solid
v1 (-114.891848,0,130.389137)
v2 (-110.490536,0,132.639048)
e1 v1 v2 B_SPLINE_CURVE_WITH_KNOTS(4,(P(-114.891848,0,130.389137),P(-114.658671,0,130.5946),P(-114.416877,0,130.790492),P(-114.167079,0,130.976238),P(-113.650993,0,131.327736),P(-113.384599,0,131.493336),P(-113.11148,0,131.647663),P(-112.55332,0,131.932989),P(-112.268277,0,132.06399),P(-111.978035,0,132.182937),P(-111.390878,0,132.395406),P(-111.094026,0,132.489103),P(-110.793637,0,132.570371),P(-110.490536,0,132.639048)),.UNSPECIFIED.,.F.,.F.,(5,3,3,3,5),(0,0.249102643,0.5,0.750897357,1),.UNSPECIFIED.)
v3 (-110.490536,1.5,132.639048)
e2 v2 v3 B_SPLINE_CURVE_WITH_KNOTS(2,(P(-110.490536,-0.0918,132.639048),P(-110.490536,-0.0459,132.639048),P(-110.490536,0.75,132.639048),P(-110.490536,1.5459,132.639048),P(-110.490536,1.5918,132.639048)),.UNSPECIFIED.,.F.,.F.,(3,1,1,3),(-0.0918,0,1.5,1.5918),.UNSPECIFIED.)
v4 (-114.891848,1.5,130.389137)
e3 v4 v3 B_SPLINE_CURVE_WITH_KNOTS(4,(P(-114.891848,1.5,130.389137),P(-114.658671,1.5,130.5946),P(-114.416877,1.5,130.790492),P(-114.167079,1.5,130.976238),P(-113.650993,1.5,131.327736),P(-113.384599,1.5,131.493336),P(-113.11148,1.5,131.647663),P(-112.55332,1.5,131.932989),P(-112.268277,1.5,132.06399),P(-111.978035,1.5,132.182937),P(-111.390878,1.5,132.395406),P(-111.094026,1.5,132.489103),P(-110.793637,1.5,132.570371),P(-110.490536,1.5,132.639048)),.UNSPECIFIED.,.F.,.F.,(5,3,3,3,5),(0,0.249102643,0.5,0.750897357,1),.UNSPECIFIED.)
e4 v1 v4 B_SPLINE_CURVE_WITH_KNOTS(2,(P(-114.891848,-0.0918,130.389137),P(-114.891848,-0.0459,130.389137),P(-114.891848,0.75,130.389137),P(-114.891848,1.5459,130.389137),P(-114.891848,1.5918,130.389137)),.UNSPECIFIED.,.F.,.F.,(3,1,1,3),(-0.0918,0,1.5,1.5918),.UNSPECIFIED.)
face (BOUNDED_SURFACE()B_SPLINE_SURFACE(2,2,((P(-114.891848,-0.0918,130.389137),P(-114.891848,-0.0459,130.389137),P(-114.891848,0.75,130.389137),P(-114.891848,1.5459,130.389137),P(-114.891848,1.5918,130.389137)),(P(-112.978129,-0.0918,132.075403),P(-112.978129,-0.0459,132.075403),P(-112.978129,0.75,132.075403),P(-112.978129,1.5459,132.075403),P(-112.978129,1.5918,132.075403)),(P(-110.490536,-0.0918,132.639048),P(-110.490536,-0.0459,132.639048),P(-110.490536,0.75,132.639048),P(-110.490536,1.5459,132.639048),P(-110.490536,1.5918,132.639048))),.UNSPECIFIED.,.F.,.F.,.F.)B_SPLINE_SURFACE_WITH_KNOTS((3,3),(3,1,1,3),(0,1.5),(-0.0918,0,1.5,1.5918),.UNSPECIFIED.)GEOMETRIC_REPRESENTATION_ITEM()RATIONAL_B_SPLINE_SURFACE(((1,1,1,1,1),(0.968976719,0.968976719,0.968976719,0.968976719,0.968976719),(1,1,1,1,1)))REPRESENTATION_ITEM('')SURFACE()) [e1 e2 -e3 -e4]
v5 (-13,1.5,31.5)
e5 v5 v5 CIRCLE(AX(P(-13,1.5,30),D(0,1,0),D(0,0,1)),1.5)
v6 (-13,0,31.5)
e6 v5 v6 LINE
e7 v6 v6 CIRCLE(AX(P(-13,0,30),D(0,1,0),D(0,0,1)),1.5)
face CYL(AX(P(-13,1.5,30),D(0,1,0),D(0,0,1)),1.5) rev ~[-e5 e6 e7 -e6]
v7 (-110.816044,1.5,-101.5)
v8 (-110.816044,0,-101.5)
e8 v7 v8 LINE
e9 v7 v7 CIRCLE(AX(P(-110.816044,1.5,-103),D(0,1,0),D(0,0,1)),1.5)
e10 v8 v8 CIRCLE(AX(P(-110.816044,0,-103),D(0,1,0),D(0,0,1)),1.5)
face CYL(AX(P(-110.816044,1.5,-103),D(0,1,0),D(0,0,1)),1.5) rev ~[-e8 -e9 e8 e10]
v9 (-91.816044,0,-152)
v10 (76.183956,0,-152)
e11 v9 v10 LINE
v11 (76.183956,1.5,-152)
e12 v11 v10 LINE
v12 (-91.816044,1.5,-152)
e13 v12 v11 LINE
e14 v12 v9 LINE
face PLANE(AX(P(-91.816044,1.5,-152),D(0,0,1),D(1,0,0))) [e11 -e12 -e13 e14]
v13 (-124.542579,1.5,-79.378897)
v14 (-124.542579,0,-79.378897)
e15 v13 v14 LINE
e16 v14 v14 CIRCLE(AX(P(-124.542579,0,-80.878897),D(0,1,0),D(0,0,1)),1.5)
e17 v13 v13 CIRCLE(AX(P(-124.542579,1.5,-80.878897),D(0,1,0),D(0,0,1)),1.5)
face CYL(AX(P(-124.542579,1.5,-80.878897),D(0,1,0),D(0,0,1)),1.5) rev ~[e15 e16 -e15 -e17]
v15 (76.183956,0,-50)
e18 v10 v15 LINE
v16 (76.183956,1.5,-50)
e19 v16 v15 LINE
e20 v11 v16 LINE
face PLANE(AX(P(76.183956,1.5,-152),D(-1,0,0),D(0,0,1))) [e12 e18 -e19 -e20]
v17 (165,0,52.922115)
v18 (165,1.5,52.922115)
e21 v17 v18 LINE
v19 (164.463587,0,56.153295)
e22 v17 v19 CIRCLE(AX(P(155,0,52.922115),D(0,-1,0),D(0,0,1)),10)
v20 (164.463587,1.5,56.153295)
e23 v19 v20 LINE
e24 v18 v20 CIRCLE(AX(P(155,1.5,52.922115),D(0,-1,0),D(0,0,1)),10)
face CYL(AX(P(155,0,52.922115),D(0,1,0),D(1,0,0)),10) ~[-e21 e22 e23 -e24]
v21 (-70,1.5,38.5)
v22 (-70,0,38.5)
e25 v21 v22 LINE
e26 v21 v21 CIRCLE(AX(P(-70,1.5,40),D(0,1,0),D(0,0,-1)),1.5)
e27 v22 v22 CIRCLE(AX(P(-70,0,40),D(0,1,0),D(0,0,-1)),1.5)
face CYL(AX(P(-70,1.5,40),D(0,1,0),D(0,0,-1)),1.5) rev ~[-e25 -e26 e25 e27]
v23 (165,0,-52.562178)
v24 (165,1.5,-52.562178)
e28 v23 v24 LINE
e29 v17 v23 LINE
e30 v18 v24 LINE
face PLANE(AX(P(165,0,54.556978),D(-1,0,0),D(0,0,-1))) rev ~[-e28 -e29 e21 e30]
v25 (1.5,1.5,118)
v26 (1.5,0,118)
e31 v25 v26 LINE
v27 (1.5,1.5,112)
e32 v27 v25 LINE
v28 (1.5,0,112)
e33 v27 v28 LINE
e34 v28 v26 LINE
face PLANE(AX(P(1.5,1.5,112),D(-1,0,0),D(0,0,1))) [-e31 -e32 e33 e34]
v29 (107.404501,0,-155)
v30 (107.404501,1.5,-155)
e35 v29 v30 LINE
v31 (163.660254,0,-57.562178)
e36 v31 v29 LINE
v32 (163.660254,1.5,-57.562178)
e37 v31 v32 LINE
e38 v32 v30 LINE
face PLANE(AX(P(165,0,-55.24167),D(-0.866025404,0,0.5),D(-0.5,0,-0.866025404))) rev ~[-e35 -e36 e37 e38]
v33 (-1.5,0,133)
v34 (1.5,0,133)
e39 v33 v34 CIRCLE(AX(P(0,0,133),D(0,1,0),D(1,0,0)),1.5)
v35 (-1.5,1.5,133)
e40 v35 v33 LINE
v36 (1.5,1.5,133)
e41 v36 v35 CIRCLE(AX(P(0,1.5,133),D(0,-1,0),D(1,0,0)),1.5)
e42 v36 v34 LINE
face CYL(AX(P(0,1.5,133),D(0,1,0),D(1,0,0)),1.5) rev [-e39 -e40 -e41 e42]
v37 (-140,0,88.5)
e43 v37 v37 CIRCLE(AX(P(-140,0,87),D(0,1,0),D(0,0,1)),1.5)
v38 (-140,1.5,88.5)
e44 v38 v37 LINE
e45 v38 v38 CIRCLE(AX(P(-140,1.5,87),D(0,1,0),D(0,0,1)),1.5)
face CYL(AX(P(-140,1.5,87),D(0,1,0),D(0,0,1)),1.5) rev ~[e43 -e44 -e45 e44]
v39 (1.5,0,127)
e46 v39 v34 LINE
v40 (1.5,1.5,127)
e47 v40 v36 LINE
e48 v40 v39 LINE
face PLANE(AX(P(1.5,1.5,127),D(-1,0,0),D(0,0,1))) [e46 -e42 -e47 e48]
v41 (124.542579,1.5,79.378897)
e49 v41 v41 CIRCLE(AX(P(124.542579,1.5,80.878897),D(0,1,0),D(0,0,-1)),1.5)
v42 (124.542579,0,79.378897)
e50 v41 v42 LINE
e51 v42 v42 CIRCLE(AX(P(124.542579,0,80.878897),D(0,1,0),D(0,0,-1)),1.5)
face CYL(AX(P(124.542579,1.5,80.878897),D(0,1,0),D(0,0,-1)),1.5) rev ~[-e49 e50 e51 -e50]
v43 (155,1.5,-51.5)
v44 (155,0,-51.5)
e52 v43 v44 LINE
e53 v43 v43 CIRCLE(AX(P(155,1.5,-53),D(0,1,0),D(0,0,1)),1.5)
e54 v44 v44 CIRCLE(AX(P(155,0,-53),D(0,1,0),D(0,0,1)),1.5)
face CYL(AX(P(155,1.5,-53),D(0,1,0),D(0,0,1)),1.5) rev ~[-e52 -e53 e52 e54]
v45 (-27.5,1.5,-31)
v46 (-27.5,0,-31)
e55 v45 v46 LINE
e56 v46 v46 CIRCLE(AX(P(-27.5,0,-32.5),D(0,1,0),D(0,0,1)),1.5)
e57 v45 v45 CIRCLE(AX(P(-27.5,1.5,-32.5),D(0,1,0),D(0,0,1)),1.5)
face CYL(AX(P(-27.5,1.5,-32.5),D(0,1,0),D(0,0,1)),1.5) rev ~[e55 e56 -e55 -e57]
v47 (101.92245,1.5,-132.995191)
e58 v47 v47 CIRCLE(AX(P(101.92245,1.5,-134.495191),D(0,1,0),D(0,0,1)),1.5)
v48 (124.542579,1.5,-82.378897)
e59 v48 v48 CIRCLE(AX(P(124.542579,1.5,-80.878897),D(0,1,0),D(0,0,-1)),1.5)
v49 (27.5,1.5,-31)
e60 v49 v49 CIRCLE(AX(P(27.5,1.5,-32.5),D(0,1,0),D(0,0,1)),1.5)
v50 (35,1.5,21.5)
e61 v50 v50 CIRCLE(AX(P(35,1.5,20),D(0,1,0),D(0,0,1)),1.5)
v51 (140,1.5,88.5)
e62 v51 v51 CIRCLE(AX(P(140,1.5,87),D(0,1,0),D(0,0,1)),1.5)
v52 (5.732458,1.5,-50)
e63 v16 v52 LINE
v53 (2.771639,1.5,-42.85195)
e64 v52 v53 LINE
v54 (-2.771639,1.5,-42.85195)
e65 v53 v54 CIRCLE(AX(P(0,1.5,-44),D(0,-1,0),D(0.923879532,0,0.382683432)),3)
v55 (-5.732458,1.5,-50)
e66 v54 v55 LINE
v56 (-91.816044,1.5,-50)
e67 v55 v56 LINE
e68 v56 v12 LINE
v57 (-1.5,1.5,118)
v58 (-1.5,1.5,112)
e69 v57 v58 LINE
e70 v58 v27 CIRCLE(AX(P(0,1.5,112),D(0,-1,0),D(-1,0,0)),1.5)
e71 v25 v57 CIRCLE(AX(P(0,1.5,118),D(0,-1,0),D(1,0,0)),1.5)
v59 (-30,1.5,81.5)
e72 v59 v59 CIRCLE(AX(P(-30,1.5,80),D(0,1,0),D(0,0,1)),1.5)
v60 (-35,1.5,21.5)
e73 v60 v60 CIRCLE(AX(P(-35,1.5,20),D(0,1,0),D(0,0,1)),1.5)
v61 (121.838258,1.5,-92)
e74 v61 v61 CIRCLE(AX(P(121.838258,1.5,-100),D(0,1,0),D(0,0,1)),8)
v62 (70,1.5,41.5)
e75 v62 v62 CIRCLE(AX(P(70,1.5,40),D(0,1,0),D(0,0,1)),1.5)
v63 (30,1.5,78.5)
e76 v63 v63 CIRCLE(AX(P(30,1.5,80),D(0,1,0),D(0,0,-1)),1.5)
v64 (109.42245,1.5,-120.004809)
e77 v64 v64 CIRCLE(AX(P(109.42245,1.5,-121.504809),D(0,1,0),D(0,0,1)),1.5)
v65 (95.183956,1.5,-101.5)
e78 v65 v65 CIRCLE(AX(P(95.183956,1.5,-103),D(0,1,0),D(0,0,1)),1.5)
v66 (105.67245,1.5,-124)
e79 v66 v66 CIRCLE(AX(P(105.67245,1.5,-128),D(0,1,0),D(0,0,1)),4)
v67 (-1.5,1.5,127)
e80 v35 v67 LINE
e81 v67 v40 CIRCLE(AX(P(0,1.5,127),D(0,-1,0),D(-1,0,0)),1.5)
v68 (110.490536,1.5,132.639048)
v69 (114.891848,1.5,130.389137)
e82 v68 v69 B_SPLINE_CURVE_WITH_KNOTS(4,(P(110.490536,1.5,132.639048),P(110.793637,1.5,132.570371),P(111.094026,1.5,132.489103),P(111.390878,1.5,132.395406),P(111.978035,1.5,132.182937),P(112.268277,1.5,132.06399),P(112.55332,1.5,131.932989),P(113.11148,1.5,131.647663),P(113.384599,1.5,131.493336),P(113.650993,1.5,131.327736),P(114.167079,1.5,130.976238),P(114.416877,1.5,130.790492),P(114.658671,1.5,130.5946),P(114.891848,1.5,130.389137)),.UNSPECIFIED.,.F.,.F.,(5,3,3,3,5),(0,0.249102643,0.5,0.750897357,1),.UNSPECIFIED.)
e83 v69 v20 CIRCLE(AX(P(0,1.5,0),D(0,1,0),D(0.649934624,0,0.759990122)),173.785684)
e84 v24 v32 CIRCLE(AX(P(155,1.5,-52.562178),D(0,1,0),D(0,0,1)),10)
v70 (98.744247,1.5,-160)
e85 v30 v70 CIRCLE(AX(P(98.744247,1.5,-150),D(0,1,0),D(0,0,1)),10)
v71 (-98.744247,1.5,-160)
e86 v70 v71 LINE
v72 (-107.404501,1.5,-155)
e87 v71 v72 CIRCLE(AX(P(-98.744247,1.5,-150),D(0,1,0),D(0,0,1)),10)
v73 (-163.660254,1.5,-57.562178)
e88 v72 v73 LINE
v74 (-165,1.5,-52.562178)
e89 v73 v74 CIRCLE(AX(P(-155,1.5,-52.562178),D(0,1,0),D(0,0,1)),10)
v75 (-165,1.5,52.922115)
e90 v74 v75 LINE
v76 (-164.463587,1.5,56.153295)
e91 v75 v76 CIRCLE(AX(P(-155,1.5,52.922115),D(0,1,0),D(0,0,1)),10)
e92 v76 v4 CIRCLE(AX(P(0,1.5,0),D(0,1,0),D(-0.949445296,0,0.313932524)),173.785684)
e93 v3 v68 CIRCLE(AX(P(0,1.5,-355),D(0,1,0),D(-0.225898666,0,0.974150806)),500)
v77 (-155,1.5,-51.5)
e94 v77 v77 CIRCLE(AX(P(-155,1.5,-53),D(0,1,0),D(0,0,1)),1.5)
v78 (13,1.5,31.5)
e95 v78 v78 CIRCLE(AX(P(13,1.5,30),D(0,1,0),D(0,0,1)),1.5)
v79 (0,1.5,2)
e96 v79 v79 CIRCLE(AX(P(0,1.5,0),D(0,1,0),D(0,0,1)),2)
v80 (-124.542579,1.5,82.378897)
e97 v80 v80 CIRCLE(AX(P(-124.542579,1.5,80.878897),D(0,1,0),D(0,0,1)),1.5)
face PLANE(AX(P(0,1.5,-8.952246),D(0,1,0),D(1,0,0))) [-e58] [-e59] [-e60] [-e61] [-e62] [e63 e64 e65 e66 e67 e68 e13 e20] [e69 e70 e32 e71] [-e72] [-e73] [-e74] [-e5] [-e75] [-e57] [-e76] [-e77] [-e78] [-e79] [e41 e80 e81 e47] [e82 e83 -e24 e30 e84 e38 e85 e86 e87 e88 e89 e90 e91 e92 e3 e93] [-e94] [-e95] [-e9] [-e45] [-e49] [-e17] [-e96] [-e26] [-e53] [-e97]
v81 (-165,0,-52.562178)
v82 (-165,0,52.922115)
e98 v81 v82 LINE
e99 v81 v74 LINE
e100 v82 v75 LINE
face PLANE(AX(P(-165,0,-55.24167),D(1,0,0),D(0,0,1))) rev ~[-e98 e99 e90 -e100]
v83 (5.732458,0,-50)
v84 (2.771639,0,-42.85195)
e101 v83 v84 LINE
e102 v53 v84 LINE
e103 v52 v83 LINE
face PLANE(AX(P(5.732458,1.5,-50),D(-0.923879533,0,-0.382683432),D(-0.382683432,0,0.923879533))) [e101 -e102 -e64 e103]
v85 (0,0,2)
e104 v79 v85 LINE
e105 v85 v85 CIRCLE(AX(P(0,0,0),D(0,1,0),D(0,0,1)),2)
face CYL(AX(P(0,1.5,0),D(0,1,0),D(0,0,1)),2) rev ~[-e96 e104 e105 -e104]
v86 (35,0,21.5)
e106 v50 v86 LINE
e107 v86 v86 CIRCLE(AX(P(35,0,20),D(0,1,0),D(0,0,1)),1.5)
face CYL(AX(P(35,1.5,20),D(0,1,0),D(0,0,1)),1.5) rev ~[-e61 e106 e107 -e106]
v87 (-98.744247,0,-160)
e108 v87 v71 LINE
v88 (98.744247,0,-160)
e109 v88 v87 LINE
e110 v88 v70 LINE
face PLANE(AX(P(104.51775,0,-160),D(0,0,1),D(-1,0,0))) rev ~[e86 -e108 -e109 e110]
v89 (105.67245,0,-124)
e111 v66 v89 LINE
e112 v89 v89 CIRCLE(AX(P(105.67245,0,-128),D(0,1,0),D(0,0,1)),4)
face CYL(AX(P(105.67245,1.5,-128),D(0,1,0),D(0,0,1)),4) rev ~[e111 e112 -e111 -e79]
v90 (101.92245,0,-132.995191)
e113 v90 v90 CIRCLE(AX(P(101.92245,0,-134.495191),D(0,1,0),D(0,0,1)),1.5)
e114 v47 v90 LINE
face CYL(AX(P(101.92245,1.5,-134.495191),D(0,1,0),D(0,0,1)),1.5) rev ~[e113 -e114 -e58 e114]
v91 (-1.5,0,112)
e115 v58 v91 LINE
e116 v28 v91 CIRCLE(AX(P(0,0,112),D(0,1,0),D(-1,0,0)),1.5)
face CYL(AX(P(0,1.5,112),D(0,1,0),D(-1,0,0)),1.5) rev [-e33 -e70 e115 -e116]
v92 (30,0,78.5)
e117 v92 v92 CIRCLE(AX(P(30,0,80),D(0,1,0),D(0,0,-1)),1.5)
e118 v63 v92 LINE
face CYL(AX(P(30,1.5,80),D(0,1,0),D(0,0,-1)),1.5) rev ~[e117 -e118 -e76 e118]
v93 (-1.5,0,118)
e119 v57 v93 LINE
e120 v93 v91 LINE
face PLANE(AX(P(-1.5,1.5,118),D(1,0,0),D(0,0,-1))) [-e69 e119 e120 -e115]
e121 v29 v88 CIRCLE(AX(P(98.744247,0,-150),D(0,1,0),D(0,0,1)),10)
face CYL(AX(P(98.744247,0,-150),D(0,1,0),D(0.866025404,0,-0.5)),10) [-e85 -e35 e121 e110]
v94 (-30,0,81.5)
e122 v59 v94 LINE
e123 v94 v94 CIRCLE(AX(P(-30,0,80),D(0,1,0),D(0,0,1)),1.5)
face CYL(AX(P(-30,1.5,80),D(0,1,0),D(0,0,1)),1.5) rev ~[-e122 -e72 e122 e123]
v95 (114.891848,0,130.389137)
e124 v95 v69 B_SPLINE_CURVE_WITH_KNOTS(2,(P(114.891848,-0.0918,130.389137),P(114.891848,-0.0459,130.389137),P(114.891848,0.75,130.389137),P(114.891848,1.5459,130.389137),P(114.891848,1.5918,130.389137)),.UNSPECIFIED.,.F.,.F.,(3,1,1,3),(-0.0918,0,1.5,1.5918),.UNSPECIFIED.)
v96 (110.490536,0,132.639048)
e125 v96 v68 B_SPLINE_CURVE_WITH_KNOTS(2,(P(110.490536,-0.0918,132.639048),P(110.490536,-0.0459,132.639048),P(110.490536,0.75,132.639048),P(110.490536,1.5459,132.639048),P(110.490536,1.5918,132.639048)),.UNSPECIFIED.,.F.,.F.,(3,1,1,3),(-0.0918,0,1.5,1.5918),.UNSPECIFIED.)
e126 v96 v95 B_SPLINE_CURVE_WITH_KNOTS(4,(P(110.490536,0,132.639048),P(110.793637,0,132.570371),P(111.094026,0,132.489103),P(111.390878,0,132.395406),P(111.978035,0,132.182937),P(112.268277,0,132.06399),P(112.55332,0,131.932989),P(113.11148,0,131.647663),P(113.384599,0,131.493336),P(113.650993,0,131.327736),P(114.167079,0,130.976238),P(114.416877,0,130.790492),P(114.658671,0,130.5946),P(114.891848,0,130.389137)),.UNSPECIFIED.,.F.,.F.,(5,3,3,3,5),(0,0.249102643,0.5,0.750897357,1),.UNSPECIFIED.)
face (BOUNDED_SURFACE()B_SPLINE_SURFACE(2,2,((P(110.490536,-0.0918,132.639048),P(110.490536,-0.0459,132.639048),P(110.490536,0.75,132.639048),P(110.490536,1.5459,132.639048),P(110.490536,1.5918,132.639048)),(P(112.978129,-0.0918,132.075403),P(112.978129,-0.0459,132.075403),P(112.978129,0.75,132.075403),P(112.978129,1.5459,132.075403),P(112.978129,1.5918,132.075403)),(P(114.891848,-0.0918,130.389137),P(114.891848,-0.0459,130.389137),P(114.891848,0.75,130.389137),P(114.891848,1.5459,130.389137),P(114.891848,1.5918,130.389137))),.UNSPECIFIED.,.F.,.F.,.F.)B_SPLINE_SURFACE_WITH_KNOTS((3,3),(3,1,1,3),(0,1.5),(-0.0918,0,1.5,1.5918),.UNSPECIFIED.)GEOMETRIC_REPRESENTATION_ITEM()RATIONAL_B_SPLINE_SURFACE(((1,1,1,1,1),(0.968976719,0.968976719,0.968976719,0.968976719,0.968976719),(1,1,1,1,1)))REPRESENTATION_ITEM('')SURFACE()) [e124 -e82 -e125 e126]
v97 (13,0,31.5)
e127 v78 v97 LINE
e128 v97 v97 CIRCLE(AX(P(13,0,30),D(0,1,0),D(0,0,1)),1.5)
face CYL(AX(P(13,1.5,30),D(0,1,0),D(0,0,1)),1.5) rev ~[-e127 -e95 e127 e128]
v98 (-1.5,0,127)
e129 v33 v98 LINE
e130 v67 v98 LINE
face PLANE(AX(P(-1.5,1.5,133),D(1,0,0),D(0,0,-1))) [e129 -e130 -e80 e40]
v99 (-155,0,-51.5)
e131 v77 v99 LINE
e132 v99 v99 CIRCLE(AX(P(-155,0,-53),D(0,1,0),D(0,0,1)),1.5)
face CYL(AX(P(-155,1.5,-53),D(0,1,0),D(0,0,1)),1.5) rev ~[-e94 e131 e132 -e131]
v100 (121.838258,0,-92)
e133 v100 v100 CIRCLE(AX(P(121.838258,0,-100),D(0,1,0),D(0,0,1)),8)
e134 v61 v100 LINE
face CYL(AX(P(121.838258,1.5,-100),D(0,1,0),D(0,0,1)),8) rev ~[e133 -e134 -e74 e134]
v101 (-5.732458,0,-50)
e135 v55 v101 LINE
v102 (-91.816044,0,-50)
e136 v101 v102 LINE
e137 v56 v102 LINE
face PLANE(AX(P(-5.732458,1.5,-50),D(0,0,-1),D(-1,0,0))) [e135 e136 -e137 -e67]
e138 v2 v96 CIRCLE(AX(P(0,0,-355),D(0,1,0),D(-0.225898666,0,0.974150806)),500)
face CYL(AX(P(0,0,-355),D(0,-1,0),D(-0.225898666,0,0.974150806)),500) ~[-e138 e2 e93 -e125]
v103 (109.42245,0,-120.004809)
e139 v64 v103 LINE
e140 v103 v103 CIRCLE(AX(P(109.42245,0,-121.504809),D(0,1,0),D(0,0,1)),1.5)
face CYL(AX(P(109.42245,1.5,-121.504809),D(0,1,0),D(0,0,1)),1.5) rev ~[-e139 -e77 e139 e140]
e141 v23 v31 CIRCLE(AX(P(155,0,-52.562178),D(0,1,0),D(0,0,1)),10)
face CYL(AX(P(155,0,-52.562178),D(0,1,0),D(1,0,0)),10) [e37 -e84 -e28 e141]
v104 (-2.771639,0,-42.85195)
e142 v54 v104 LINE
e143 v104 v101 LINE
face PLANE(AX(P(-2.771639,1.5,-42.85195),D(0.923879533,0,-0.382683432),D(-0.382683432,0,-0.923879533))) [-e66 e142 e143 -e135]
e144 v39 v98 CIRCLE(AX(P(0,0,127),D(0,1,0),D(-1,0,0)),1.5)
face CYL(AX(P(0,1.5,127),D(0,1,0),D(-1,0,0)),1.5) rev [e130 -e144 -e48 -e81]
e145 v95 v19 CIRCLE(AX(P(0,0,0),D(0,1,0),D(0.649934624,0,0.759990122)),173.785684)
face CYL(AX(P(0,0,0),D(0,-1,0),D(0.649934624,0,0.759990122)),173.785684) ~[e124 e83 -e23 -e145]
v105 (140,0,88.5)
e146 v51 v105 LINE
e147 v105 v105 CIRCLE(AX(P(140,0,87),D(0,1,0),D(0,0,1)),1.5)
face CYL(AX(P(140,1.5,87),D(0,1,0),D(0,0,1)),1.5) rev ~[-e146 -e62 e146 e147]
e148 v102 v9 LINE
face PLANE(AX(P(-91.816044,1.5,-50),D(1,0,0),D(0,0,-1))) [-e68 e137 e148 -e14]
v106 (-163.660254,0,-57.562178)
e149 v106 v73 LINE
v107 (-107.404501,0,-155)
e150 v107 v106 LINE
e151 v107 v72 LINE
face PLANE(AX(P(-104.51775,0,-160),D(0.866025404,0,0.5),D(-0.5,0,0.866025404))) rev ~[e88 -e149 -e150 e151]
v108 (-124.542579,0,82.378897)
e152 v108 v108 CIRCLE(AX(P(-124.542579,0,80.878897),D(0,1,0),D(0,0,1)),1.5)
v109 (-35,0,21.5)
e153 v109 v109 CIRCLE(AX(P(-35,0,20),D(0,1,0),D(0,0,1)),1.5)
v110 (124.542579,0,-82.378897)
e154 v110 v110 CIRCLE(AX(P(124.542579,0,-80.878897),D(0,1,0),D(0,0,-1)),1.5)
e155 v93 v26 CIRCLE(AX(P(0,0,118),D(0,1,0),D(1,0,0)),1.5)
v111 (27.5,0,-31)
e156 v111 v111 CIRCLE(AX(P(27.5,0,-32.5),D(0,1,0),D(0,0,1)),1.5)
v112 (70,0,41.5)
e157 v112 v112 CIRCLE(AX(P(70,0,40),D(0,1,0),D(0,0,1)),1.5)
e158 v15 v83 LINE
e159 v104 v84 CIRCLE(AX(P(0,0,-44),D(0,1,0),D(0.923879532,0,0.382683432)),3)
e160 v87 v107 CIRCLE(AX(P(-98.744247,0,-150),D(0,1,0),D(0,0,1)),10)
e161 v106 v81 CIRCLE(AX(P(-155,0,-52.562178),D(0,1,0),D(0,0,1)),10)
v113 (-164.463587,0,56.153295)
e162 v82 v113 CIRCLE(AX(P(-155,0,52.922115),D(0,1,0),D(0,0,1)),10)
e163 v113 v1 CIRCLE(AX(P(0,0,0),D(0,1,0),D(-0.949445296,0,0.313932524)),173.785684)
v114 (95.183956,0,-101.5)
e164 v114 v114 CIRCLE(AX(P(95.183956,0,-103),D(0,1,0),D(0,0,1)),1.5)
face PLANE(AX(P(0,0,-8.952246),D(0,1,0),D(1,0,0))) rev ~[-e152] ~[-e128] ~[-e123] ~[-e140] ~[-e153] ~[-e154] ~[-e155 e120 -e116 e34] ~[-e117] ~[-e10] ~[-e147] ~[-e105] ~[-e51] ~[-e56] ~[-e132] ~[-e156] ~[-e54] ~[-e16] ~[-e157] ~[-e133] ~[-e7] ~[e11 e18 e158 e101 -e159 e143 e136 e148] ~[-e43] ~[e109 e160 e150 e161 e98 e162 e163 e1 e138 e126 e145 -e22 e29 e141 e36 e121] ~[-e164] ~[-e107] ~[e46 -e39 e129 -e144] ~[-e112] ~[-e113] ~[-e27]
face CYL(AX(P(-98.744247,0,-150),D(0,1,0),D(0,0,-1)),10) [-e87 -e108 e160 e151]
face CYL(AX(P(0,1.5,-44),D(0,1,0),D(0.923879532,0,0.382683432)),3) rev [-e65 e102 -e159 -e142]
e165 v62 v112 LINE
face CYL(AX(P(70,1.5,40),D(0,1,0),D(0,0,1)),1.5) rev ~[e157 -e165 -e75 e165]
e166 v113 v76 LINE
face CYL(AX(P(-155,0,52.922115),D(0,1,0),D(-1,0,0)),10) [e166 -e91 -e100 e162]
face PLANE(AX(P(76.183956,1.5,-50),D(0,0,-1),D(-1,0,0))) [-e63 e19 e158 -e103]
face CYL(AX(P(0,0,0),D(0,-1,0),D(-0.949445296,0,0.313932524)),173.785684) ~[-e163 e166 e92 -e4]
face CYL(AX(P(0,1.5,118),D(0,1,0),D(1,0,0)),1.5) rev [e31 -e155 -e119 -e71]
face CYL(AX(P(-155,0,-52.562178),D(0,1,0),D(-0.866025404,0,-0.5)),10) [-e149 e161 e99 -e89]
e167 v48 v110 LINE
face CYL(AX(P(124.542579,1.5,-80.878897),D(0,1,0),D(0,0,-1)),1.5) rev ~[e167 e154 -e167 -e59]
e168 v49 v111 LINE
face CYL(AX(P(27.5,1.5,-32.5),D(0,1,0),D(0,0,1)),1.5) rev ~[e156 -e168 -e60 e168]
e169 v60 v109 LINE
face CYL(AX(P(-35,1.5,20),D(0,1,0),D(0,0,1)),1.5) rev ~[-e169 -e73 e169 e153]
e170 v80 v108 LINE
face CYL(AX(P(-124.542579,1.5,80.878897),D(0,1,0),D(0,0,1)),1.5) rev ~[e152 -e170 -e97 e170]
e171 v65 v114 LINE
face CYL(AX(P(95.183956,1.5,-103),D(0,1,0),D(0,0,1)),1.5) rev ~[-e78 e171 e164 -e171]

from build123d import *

# Parameters (mm, degrees)
BOSS_EXTRU_1_DEPTH      = 1.5
CONG_1_R                = 10
ESQUISSE4_R             = 8
ESQUISSE4_R_2           = 4
ESQUISSE4_R_3           = 1.5
ESQUISSE4_R_4           = 2
ENL_V_MAT_EXTRU_3_DEPTH = 3
ESQUISSE5_R             = 1.5
ENL_V_MAT_EXTRU_4_DEPTH = 230.841793557
ESQUISSE6_R             = 1.5
ENL_V_MAT_EXTRU_5_DEPTH = 230.841793557


with BuildPart() as part:
    # Esquisse1 → Boss.-Extru.1 (new body)
    with BuildSketch(Plane(origin=(0, 0, 0), x_dir=(1, 0, 0), z_dir=(0, 1, 0))):
        with BuildLine():
            Line((165, -54.556978373), (165, 55.241669751))
            Line((165, 55.241669751), (104.517749831, 160))
            Line((104.517749831, 160), (-104.517749831, 160))
            Line((-104.517749831, 160), (-165, 55.241669751))
            Line((-165, 55.241669751), (-165, -54.556978373))
            ThreePointArc((-165, -54.556978373), (-144.278322914, -96.877393783), (-112.949332972, -132.075402973))
            ThreePointArc((-112.949332972, -132.075402973), (0, -145), (112.949332972, -132.075402973))
            ThreePointArc((112.949332972, -132.075402973), (144.278322914, -96.877393783), (165, -54.556978373))
        make_face()
    extrude(amount=BOSS_EXTRU_1_DEPTH)

    # Congé1
    cong_1_edges = [part.edges().sort_by_distance(p)[0] for p in [
        (-112.949332972, 0.75, 132.075402973),
        (-165, 0.75, 54.556978373),
        (-165, 0.75, -55.241669751),
        (-104.517749831, 0.75, -160),
        (104.517749831, 0.75, -160),
        (165, 0.75, -55.241669751),
        (165, 0.75, 54.556978373),
        (112.949332972, 0.75, 132.075402973),
    ]]
    fillet(cong_1_edges, radius=CONG_1_R)

    # Esquisse4 → Enlèv. mat.-Extru.3 (cut)
    with BuildSketch(Plane(origin=(0, 1.5, 0), x_dir=(1, 0, 0), z_dir=(0, 1, 0))):
        with Locations(Location((121.838257906, 100, 0), (0, 0, 270))):
            Circle(ESQUISSE4_R)
        with Locations(Location((105.672450369, 128, 0), (0, 0, 270))):
            Circle(ESQUISSE4_R_2)
        with Locations(Location((101.922450369, 134.495190528, 0), (0, 0, 270))):
            Circle(ESQUISSE4_R_3)
        with Locations(Location((109.422450369, 121.504809472, 0), (0, 0, 270))):
            Circle(ESQUISSE4_R_3)
        with Locations(Location((-110.816043909, 103, 0), (0, 0, 270))):
            Circle(ESQUISSE4_R_3)
        with Locations(Location((95.183956091, 103, 0), (0, 0, 270))):
            Circle(ESQUISSE4_R_3)
        with Locations(Location((-27.5, 32.5, 0), (0, 0, 270))):
            Circle(ESQUISSE4_R_3)
        with Locations(Location((35, -20, 0), (0, 0, 270))):
            Circle(ESQUISSE4_R_3)
        with Locations(Location((27.5, 32.5, 0), (0, 0, 270))):
            Circle(ESQUISSE4_R_3)
        with Locations(Location((-13, -30, 0), (0, 0, 270))):
            Circle(ESQUISSE4_R_3)
        with Locations(Location((0, 0, 0), (0, 0, 270))):
            Circle(ESQUISSE4_R_4)
        with Locations(Location((-35, -20, 0), (0, 0, 270))):
            Circle(ESQUISSE4_R_3)
        with Locations(Location((13, -30, 0), (0, 0, 270))):
            Circle(ESQUISSE4_R_3)
        with Locations(Location((155, 53, 0), (0, 0, 270))):
            Circle(ESQUISSE4_R_3)
        with Locations(Location((140, -87, 0), (0, 0, 270))):
            Circle(ESQUISSE4_R_3)
        with Locations(Location((-140, -87, 0), (0, 0, 270))):
            Circle(ESQUISSE4_R_3)
        with Locations(Location((-155, 53, 0), (0, 0, 270))):
            Circle(ESQUISSE4_R_3)
        with BuildLine():
            Line((-91.816043909, 152), (76.183956091, 152))
            Line((76.183956091, 152), (76.183956091, 50))
            Line((76.183956091, 50), (5.732457975, 50))
            Line((5.732457975, 50), (2.771638598, 42.851949703))
            ThreePointArc((2.771638598, 42.851949703), (0, 41), (-2.771638598, 42.851949703))
            Line((-2.771638598, 42.851949703), (-5.732457975, 50))
            Line((-5.732457975, 50), (-91.816043909, 50))
            Line((-91.816043909, 50), (-91.816043909, 152))
        make_face()
    extrude(amount=-ENL_V_MAT_EXTRU_3_DEPTH, mode=Mode.SUBTRACT)

    # Esquisse5 → Enlèv. mat.-Extru.4 (cut, through all)
    with BuildSketch(Plane(origin=(0, 1.5, 0), x_dir=(1, 0, 0), z_dir=(0, 1, 0))):
        with Locations(Location((-30, -80, 0), (0, 0, 270))):
            Circle(ESQUISSE5_R)
        with Locations(Location((30, -80, 0), (0, 0, 90))):
            Circle(ESQUISSE5_R)
        with BuildLine():
            Line((1.5, -112), (1.5, -118))
            ThreePointArc((1.5, -118), (0, -119.5), (-1.5, -118))
            Line((-1.5, -118), (-1.5, -112))
            ThreePointArc((-1.5, -112), (0, -110.5), (1.5, -112))
        make_face()
        with BuildLine():
            Line((1.5, -127), (1.5, -133))
            ThreePointArc((1.5, -133), (0, -134.5), (-1.5, -133))
            Line((-1.5, -133), (-1.5, -127))
            ThreePointArc((-1.5, -127), (0, -125.5), (1.5, -127))
        make_face()
    extrude(amount=-ENL_V_MAT_EXTRU_4_DEPTH, mode=Mode.SUBTRACT)

    # Esquisse6 → Enlèv. mat.-Extru.5 (cut, through all)
    with BuildSketch(Plane(origin=(0, 1.5, 0), x_dir=(1, 0, 0), z_dir=(0, 1, 0))):
        with Locations(Location((-124.54257934, -80.8788967, 0), (0, 0, 270))):
            Circle(ESQUISSE6_R)
        with Locations(Location((-124.54257934, 80.8788967, 0), (0, 0, 270))):
            Circle(ESQUISSE6_R)
        with Locations(Location((124.54257934, -80.8788967, 0), (0, 0, 90))):
            Circle(ESQUISSE6_R)
        with Locations(Location((124.54257934, 80.8788967, 0), (0, 0, 90))):
            Circle(ESQUISSE6_R)
        with Locations(Location((70, -40, 0), (0, 0, 270))):
            Circle(ESQUISSE6_R)
        with Locations(Location((-70, -40, 0), (0, 0, 90))):
            Circle(ESQUISSE6_R)
    extrude(amount=-ENL_V_MAT_EXTRU_5_DEPTH, mode=Mode.SUBTRACT)


solid = part.part
